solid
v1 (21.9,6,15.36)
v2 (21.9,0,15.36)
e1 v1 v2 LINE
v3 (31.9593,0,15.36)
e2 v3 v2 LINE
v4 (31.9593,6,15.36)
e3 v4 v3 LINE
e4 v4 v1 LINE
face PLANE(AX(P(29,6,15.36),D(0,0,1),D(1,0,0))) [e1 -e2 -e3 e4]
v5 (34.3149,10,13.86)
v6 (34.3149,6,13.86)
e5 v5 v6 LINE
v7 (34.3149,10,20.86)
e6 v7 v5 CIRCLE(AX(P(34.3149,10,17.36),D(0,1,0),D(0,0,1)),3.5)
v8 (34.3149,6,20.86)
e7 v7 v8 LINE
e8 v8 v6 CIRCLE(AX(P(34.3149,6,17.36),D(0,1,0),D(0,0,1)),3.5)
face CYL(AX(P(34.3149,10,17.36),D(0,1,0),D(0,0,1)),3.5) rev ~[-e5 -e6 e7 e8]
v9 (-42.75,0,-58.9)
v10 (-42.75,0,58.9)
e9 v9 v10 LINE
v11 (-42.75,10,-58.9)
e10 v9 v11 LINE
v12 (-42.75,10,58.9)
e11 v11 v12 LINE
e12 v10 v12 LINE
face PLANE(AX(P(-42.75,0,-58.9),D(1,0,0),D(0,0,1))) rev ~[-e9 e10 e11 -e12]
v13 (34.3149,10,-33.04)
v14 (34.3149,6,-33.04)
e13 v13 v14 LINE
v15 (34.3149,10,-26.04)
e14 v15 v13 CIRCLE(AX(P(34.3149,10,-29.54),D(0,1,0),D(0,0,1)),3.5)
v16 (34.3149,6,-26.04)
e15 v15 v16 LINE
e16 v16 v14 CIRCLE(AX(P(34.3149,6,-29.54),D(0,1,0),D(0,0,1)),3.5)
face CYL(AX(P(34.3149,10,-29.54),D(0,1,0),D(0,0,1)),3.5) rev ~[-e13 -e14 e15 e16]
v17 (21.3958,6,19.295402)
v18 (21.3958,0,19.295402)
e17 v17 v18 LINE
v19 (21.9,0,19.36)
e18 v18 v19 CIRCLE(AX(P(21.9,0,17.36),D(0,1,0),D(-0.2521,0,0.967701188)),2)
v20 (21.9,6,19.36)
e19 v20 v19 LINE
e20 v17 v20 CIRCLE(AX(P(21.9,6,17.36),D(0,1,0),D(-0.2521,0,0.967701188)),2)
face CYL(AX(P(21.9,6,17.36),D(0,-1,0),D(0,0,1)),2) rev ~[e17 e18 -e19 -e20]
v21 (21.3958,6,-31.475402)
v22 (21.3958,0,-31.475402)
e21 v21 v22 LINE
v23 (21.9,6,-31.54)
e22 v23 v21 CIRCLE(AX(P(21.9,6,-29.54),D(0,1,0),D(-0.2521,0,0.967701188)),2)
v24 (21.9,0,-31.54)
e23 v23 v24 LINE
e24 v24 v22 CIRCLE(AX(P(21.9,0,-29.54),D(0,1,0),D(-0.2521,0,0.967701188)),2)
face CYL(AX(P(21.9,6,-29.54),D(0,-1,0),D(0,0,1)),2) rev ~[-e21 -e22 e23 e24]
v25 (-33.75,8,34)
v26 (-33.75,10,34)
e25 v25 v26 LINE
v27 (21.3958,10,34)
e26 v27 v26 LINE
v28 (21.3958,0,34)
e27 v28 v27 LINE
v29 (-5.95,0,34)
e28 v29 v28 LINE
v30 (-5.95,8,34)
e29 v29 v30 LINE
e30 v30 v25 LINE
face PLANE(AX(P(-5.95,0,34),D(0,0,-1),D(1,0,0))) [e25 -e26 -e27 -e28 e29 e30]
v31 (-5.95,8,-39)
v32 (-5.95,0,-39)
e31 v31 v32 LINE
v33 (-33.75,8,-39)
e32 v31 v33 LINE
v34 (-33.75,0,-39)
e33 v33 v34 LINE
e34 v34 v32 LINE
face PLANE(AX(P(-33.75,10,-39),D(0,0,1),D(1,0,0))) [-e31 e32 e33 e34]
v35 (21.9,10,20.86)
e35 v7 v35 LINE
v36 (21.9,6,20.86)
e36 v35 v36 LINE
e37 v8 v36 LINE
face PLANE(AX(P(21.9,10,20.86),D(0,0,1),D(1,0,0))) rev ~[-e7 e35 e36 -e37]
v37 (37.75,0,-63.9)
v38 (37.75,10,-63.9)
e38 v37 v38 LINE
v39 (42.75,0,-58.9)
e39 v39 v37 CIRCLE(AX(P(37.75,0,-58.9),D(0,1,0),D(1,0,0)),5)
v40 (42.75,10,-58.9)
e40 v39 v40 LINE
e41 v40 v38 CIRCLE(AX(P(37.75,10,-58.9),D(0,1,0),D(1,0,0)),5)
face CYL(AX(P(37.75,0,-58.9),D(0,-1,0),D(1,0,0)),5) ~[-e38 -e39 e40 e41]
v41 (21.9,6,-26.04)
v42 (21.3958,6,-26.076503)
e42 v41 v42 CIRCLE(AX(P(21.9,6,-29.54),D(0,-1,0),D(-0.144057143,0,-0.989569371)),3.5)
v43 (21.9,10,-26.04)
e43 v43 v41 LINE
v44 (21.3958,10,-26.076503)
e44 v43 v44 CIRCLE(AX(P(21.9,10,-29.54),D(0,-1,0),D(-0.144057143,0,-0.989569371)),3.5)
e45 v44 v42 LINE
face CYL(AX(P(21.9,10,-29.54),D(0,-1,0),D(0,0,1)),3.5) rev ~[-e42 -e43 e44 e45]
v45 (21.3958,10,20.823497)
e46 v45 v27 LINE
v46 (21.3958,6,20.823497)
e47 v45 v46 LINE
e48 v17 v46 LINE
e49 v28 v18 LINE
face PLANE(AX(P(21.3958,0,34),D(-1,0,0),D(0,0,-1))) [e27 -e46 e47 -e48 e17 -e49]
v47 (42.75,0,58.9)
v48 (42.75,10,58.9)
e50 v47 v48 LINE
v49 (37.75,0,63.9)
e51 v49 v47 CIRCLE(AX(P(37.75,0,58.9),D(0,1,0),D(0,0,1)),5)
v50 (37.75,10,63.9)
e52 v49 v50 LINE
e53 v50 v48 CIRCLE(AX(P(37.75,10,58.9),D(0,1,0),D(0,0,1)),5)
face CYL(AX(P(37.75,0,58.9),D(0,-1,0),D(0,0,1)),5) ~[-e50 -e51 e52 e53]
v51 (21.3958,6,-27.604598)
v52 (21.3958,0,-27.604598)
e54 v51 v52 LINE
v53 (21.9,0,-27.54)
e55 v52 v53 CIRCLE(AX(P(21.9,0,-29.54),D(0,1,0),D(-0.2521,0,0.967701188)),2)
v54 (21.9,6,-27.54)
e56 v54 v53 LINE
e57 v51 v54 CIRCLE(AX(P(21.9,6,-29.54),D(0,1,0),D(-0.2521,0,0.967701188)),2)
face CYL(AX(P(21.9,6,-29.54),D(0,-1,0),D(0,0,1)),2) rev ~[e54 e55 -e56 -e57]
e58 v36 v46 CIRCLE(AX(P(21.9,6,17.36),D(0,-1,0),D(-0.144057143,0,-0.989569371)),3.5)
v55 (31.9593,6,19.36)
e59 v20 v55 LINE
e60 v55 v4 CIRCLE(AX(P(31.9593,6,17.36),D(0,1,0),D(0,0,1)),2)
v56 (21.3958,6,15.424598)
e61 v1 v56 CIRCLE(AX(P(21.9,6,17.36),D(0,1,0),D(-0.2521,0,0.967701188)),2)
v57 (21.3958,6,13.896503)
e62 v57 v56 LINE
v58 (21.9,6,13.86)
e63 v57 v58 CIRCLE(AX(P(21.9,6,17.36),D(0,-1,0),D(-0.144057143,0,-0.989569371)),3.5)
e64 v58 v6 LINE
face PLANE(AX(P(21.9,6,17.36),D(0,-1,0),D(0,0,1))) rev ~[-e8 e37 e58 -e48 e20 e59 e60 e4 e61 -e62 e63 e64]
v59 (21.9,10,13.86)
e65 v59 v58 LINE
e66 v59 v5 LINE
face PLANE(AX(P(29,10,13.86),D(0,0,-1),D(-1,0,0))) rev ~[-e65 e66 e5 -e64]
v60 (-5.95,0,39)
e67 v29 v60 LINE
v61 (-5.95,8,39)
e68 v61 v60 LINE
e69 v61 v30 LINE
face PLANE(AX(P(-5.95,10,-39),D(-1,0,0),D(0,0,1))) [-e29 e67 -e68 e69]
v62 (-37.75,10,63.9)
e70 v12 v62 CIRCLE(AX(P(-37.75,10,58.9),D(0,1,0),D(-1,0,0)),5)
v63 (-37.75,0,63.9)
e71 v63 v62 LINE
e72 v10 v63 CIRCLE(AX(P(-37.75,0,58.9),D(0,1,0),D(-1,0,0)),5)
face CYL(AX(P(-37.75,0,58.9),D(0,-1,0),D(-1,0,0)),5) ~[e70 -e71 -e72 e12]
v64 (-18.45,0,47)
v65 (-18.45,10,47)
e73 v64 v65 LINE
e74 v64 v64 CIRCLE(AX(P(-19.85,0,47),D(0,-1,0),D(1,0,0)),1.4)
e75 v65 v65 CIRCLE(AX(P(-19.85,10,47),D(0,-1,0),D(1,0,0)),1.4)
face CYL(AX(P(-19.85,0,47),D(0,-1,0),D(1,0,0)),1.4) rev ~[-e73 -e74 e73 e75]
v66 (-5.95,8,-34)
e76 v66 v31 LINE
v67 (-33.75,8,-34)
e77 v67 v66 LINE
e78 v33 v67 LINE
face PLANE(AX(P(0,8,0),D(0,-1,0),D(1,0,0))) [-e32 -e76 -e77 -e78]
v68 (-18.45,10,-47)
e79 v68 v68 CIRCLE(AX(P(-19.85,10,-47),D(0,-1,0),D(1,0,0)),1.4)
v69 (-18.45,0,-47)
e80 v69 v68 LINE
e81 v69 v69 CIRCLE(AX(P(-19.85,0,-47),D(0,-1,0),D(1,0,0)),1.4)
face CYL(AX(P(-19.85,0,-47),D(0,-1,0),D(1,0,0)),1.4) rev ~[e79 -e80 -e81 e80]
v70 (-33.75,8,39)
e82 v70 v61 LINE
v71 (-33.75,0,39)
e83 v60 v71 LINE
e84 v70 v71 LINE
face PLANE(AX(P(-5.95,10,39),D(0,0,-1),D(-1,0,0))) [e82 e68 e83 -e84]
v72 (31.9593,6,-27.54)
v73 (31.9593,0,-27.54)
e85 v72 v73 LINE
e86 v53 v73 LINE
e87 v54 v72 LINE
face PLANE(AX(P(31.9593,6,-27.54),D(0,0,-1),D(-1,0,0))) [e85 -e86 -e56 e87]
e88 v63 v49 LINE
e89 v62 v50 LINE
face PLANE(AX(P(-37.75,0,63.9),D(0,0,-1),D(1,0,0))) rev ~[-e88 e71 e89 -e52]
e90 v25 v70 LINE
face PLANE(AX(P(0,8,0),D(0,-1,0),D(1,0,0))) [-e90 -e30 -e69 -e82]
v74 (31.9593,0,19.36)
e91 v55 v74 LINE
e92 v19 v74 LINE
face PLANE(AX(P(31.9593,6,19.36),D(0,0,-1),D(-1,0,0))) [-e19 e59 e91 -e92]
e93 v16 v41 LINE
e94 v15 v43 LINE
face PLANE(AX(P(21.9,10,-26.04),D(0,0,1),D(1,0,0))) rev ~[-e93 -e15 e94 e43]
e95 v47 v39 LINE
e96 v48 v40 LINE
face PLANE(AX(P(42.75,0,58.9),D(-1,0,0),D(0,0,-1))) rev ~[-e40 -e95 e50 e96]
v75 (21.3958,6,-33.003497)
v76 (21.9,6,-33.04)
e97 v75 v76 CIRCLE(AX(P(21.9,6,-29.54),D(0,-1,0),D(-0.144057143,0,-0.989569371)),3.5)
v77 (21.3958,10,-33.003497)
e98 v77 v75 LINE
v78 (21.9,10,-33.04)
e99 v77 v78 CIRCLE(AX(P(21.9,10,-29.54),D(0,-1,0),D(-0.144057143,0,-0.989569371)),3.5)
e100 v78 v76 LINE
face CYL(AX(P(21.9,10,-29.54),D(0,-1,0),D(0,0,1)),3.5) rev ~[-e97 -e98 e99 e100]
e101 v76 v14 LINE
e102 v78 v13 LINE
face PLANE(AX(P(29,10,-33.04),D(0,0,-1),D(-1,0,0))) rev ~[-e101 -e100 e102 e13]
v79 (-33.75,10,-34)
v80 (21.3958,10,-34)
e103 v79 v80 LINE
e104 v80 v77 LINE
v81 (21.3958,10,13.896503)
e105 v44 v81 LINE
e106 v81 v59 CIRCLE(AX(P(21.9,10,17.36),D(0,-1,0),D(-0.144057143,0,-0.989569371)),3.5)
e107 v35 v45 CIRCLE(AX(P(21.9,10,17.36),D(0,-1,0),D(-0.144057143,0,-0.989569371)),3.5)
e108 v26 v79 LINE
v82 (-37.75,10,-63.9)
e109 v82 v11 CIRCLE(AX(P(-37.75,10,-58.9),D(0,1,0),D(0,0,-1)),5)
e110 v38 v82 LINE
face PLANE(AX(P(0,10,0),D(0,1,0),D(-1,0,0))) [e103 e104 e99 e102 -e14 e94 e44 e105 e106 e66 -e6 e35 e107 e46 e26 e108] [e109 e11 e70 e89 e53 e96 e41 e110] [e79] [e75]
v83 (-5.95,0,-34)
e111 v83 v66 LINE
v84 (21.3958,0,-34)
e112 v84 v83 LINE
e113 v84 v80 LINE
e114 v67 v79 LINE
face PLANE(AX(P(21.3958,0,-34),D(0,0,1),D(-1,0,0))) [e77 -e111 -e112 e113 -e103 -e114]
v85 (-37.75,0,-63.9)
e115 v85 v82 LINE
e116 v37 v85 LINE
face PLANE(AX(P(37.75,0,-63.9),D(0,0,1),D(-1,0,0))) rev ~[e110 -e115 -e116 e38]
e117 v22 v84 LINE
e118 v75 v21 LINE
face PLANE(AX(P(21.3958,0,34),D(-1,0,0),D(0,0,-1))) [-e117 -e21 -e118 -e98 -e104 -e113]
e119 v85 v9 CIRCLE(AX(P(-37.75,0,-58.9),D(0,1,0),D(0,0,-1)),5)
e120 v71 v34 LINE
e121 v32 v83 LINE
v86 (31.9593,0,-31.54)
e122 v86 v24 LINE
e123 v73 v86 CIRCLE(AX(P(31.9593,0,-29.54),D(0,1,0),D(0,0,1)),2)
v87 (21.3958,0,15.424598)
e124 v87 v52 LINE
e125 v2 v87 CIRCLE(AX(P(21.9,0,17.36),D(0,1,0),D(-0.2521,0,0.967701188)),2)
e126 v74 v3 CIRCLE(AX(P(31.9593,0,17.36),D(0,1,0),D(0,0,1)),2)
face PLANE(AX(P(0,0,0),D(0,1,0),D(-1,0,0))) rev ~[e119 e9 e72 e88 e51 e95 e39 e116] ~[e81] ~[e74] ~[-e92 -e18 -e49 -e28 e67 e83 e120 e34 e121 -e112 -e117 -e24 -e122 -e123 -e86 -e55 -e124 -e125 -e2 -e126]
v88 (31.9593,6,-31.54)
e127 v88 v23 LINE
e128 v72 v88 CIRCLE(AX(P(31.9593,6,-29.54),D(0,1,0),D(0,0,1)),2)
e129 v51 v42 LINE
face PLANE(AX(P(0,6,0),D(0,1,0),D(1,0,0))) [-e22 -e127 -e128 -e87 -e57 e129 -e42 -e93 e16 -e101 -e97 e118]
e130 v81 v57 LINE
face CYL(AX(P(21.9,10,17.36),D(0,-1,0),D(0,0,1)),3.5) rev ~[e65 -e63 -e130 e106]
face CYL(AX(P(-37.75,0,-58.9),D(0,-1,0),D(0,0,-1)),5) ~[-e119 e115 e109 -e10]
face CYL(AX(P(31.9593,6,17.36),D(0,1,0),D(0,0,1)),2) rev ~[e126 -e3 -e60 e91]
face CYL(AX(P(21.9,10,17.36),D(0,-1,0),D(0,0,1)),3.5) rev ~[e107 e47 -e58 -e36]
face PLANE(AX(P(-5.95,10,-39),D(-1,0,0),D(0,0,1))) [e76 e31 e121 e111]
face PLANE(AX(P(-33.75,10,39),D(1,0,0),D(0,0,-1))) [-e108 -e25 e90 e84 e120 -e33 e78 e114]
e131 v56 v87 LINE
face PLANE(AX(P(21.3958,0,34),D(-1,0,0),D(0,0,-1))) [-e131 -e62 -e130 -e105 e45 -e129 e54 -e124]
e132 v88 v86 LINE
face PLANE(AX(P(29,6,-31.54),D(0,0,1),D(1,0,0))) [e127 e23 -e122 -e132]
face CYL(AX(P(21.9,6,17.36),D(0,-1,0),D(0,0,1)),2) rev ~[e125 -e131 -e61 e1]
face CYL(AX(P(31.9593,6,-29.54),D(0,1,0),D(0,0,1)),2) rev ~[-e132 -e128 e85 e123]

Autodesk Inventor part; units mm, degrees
ref_plane "YZ Plane" through (0, 0, 0) normal (1, 0, 0) x (0, 1, 0)
ref_plane "XZ Plane" through (0, 0, 0) normal (0, 1, 0) x (-1, 0, 0)
sketch "Skizze1" plane through (0, 0, 0) normal (0, 1, 0) x (-1, 0, 0)
  line L0 (-37.75, -63.9) -> (37.75, -63.9)
  line L1 (42.75, -58.9) -> (42.75, 58.9)
  line L2 (37.75, 63.9) -> (-37.75, 63.9)
  line L3 (-42.75, 58.9) -> (-42.75, -58.9)
  line L4 (-42.75, -63.9) -> (42.75, 63.9) construction
  line L5 (42.75, -63.9) -> (-42.75, 63.9) construction
  arc A0 (42.75, 58.9) -> (37.75, 63.9) centre (37.75, 58.9) ccw
  arc A1 (-37.75, 63.9) -> (-42.75, 58.9) centre (-37.75, 58.9) ccw
  arc A2 (-42.75, -58.9) -> (-37.75, -63.9) centre (-37.75, -58.9) ccw
  arc A3 (37.75, -63.9) -> (42.75, -58.9) centre (37.75, -58.9) ccw
  point P0 (0, 0)
  dimension "d0" = 85.5
  dimension "d1" = 127.8
  dimension "d2" = 5
extrude "Extrusion1" add sketch "Skizze1" along normal blind 10
ref_plane "Arbeitsebene1" through (37.75, 0, 0) normal (0, 0, -1) x (-1, 0, 0)
ref_plane "Arbeitsebene2" through (0, 0, 58.9) normal (1, 0, 0) x (0, 0, -1)
sketch "Skizze2" plane through (0, 10, 0) normal (0, 1, 0) x (1, 0, 0)
  line L0 (-6.95, 38) -> (-32.75, 38) projected
  line L1 (-32.75, -38) -> (-6.95, -38) projected
  line L2 (-6.95, -38) -> (-6.95, -2.5) projected
  line L3 (-32.75, 38) -> (-32.75, -38) projected
  line L4 (-32.75, -38) -> (-6.95, -38)
  line L5 (-6.95, -38) -> (-6.95, 38)
  line L6 (-6.95, 38) -> (-32.75, 38)
  line L7 (-32.75, 38) -> (-32.75, -38)
  line L8 (-5.95, 39) -> (-5.95, -39)
  line L9 (-5.95, -39) -> (-33.75, -39)
  line L10 (-33.75, -39) -> (-33.75, 39)
  line L11 (-33.75, 39) -> (-5.95, 39)
  point P0 (0, 0)
  dimension "d5" = 1
extrude "Extrusion2" cut sketch "Skizze2" against normal through all contours L5 L2 L1 L3 L0 | L8 L9 L10 L11
ref_plane "Arbeitsebene3" through (-32.75, 5, -38) normal (0, 1, 0) x (0, 0, 1)
sketch "Skizze3" plane through (0, 10, 0) normal (0, 1, 0) x (1, 0, 0)
  line L0 (-5.95, -39) -> (-33.75, -39) projected
  line L1 (-33.75, -39) -> (-33.75, 39) projected
  line L2 (-33.75, 39) -> (-5.95, 39) projected
  line L3 (-5.95, 39) -> (-5.95, -39) projected
  arc A0 (-37.75, 63.9) -> (-42.75, 58.9) centre (-37.75, 58.9) ccw projected
  line L4 (-42.75, 58.9) -> (-42.75, -58.9) projected
  arc A1 (-42.75, -58.9) -> (-37.75, -63.9) centre (-37.75, -58.9) ccw projected
  line L5 (-37.75, -63.9) -> (37.75, -63.9) projected
  arc A2 (37.75, -63.9) -> (42.75, -58.9) centre (37.75, -58.9) ccw projected
  line L6 (42.75, -58.9) -> (42.75, 58.9) projected
  arc A3 (42.75, 58.9) -> (37.75, 63.9) centre (37.75, 58.9) ccw projected
  line L7 (37.75, 63.9) -> (-37.75, 63.9) projected
  line L8 (-33.75, -39) -> (-33.75, 39) projected
  line L9 (-5.95, 39) -> (-5.95, -39) projected
  line L10 (-33.75, -39) -> (-5.95, -39)
  line L11 (-5.95, -39) -> (-5.95, -34)
  line L12 (-5.95, -34) -> (-33.75, -34)
  line L13 (-33.75, -34) -> (-33.75, -39)
  line L14 (-33.75, 39) -> (-5.95, 39)
  line L15 (-5.95, 39) -> (-5.95, 34)
  line L16 (-5.95, 34) -> (-33.75, 34)
  line L17 (-33.75, 34) -> (-33.75, 39)
  point P0 (0, 0)
  point P1 (-5.95, 34)
  point P2 (-5.95, -34)
  dimension "d8" = 27.8
  dimension "d9" = 5
  dimension "d10" = 5
extrude "Extrusion3" add sketch "Skizze3" against normal blind 1 contours L0 L1 L12 L3 | L16 L1 L2 L3
sketch "Skizze4" plane through (0, 0, 0) normal (0, -1, 0) x (1, 0, 0)
  line L0 (-33.75, 39) -> (-5.95, 39) projected
  line L1 (-5.95, 39) -> (-5.95, -39) projected
  line L2 (-5.95, -39) -> (-33.75, -39) projected
  line L3 (-33.75, -39) -> (-33.75, 39) projected
  arc A0 (-42.75, -58.9) -> (-37.75, -63.9) centre (-37.75, -58.9) ccw projected
  line L4 (37.75, -63.9) -> (-37.75, -63.9) projected
  arc A1 (37.75, -63.9) -> (42.75, -58.9) centre (37.75, -58.9) ccw projected
  line L5 (42.75, 58.9) -> (42.75, -58.9) projected
  arc A2 (42.75, 58.9) -> (37.75, 63.9) centre (37.75, 58.9) ccw projected
  line L6 (-37.75, 63.9) -> (37.75, 63.9) projected
  arc A3 (-37.75, 63.9) -> (-42.75, 58.9) centre (-37.75, 58.9) ccw projected
  line L7 (-42.75, -58.9) -> (-42.75, 58.9) projected
  line L8 (-5.95, -34) -> (-5.95, 34) projected
  line L9 (-5.95, 34) -> (21.3958, 34)
  line L10 (21.3958, 34) -> (21.3958, -34)
  line L11 (21.3958, -34) -> (-5.95, -34)
  line L12 (-5.95, -34) -> (-5.95, 34)
  line L13 (3.55, 7.5) -> (3.55, -8) projected
  point P0 (0, 0)
  point P1 (-5.95, -34)
  dimension "d14" = 5
  dimension "d15" = 5
extrude "Extrusion4" cut sketch "Skizze4" against normal through all contours L9 L10 L11 L1
sketch "Skizze5" plane through (0, 0, 0) normal (0, -1, 0) x (1, 0, 0)
  arc A0 (-42.75, -58.9) -> (-37.75, -63.9) centre (-37.75, -58.9) ccw projected
  line L0 (37.75, -63.9) -> (-37.75, -63.9) projected
  arc A1 (37.75, -63.9) -> (42.75, -58.9) centre (37.75, -58.9) ccw projected
  line L1 (42.75, 58.9) -> (42.75, -58.9) projected
  arc A2 (42.75, 58.9) -> (37.75, 63.9) centre (37.75, 58.9) ccw projected
  line L2 (-37.75, 63.9) -> (37.75, 63.9) projected
  arc A3 (-37.75, 63.9) -> (-42.75, 58.9) centre (-37.75, 58.9) ccw projected
  line L3 (-42.75, -58.9) -> (-42.75, 58.9) projected
  line L4 (-5.95, 34) -> (21.3958, 34) projected
  line L5 (21.3958, 34) -> (21.3958, -34) projected
  line L6 (21.3958, -34) -> (-5.95, -34) projected
  line L7 (-5.95, -34) -> (-5.95, -39) projected
  line L8 (-5.95, -39) -> (-33.75, -39) projected
  line L9 (-33.75, -39) -> (-33.75, 39) projected
  line L10 (-33.75, 39) -> (-5.95, 39) projected
  line L11 (-5.95, 39) -> (-5.95, 34) projected
  circle A4 centre (-19.85, -47) radius 1.4
  circle A5 centre (-19.85, 47) radius 1.4
  point P0 (0, 0)
  dimension "d18" = 2.8
  dimension "d19" = 2.8
  dimension "d20" = 8
  dimension "d21" = 8
extrude "Extrusion5" cut sketch "Skizze5" against normal through all contours A4 | A5
sketch "Skizze6" plane through (0, 10, 0) normal (0, 1, 0) x (1, 0, 0)
  circle A0 centre (25.45, -17.36) radius 1.57 projected
  circle A1 centre (32.55, -17.36) radius 1.57 projected
  circle A2 centre (32.55, 29.54) radius 1.57 projected
  circle A3 centre (25.45, 29.54) radius 1.57 projected
  line L0 (21.45, 51.1) -> (36.55, 51.1) projected
  line L1 (36.55, 42.04) -> (36.55, 51.1) projected
  line L2 (34.55, 42.04) -> (36.55, 42.04) projected
  line L3 (34.55, 34.04) -> (34.55, 42.04) projected
  line L4 (36.55, 34.04) -> (34.55, 34.04) projected
  line L5 (36.55, -21.86) -> (36.55, 34.04) projected
  line L6 (36.55, -21.86) -> (34.55, -21.86) projected
  line L7 (34.55, -21.86) -> (34.55, -29.86) projected
  line L8 (34.55, -29.86) -> (36.55, -29.86) projected
  line L9 (36.55, -29.86) -> (36.55, -38.92) projected
  line L10 (36.55, -38.92) -> (21.45, -38.92) projected
  line L11 (21.45, -38.92) -> (21.45, -29.86) projected
  line L12 (21.45, -29.86) -> (23.45, -29.86) projected
  line L13 (23.45, -29.86) -> (23.45, -21.86) projected
  line L14 (23.45, -21.86) -> (21.45, -21.86) projected
  line L15 (21.45, -21.86) -> (21.45, 34.04) projected
  line L16 (23.45, 34.04) -> (21.45, 34.04) projected
  line L17 (23.45, 42.04) -> (23.45, 34.04) projected
  line L18 (21.45, 42.04) -> (23.45, 42.04) projected
  line L19 (21.45, 51.1) -> (21.45, 42.04) projected
  circle A4 centre (25.45, 29.54) radius 1.57
  circle A5 centre (32.55, 29.54) radius 1.57
  circle A6 centre (25.45, -17.36) radius 1.57
  circle A7 centre (32.55, -17.36) radius 1.57
  circle A8 centre (21.9, 29.54) radius 1.57
  circle A9 centre (29, 29.54) radius 1.57
  circle A10 centre (21.9, -17.36) radius 1.57
  circle A11 centre (29, -17.36) radius 1.57
  point P0 (0, 0)
hole "Bohrung1" at (29, 10, 17.36) at (29, 10, -29.54) at (21.9, 10, -29.54) at (21.9, 10, 17.36) direction (0, -1, 0) diameter 4 end through all counterbore diameter 7 counterbore depth 4
sketch "Skizze7" plane through (21.9, 6, -29.54) normal (0, 1, 0) x (1, 0, 0)
  circle A0 centre (7.1, 0) radius 2 projected
  arc A1 (-0.5042, -1.9354) -> (-0.5042, 1.9354) centre (0, 0) ccw projected
  line L0 (9.2, -49.54) -> (5, -49.54) projected
  circle A2 centre (7.1, -46.9) radius 2 projected
  arc A3 (-0.5042, -48.8354) -> (-0.5042, -44.9646) centre (0, -46.9) ccw projected
  arc A4 (-0.5042, -50.3635) -> (-0.5042, -43.4365) centre (0, -46.9) ccw projected
  line L1 (0, -46.9) -> (10.0593, -46.9) construction
  line L2 (0, -44.9) -> (10.0593, -44.9)
  line L3 (10.0593, -48.9) -> (0, -48.9)
  arc A5 (0, -44.9) -> (0, -48.9) centre (0, -46.9) ccw
  arc A6 (10.0593, -48.9) -> (10.0593, -44.9) centre (10.0593, -46.9) ccw
  arc A7 (-0.5042, -1.9354) -> (-0.5042, 1.9354) centre (0, 0) ccw projected
  line L4 (0, 0) -> (10.0593, 0) construction
  line L5 (0, 2) -> (10.0593, 2)
  line L6 (10.0593, -2) -> (0, -2)
  arc A8 (0, 2) -> (0, -2) centre (0, 0) ccw
  arc A9 (10.0593, -2) -> (10.0593, 2) centre (10.0593, 0) ccw
  point P0 (-21.9, -29.54)
  point P1 (5.0296, -46.9)
  point P2 (5.0296, 0)
  point P3 (0, -48.9)
  point P4 (0, -2)
  point P5 (0, 2)
extrude "Extrusion6" cut sketch "Skizze7" against normal through all
sketch "Skizze8" plane through (0, 10, 0) normal (0, 1, 0) x (1, 0, 0)
  arc A0 (21.3958, 26.0765) -> (21.3958, 33.0035) centre (21.9, 29.54) ccw projected
  line L0 (21.3958, 26.0765) -> (21.3958, -13.8965) projected
  arc A1 (21.3958, -20.8235) -> (21.3958, -13.8965) centre (21.9, -17.36) ccw projected
  line L1 (21.3958, -20.8235) -> (21.3958, -34) projected
  line L2 (21.3958, -34) -> (-33.75, -34) projected
  line L3 (-33.75, -34) -> (-33.75, 34) projected
  line L4 (-33.75, 34) -> (21.3958, 34) projected
  line L5 (21.3958, 34) -> (21.3958, 33.0035) projected
  circle A2 centre (29, -17.36) radius 3.5 projected
  circle A3 centre (29, 29.54) radius 3.5 projected
  circle A4 centre (-19.85, -47) radius 1.4 projected
  circle A5 centre (-19.85, 47) radius 1.4 projected
  arc A6 (-37.75, 63.9) -> (-42.75, 58.9) centre (-37.75, 58.9) ccw projected
  line L6 (-42.75, 58.9) -> (-42.75, -58.9) projected
  arc A7 (-42.75, -58.9) -> (-37.75, -63.9) centre (-37.75, -58.9) ccw projected
  line L7 (-37.75, -63.9) -> (37.75, -63.9) projected
  arc A8 (37.75, -63.9) -> (42.75, -58.9) centre (37.75, -58.9) ccw projected
  line L8 (42.75, -58.9) -> (42.75, 58.9) projected
  arc A9 (42.75, 58.9) -> (37.75, 63.9) centre (37.75, 58.9) ccw projected
  line L9 (37.75, 63.9) -> (-37.75, 63.9) projected
  arc A10 (21.3958, 26.0765) -> (21.3958, 33.0035) centre (21.9, 29.54) ccw projected
  line L10 (21.9, 29.54) -> (34.3149, 29.54) construction
  line L11 (21.9, 26.04) -> (34.3149, 26.04)
  line L12 (34.3149, 33.04) -> (21.9, 33.04)
  arc A11 (21.9, 33.04) -> (21.9, 26.04) centre (21.9, 29.54) ccw
  arc A12 (34.3149, 26.04) -> (34.3149, 33.04) centre (34.3149, 29.54) ccw
  line L13 (21.9, -17.36) -> (34.3149, -17.36) construction
  line L14 (21.9, -20.86) -> (34.3149, -20.86)
  line L15 (34.3149, -13.86) -> (21.9, -13.86)
  arc A13 (21.9, -13.86) -> (21.9, -20.86) centre (21.9, -17.36) ccw
  arc A14 (34.3149, -20.86) -> (34.3149, -13.86) centre (34.3149, -17.36) ccw
  point P0 (0, 0)
  point P1 (28.1075, 29.54)
  point P2 (28.1075, -17.36)
  point P3 (21.3958, -13.8965)
  point P4 (21.3958, 33.0035)
extrude "Extrusion7" cut sketch "Skizze8" against normal up to surface (4 mm away) contours A11 A0 | A0 L12 A3 L11 | A1 A13 | A3 | A3 L12 A12 L11 | L15 A2 L14 A1 | L15 A14 L14 A2 | A2
sketch "Skizze9" plane through (0, 9, 0) normal (0, -1, 0) x (1, 0, 0)
  circle A0 centre (-19.85, 47) radius 1.4 projected
  circle A1 centre (-19.85, -47) radius 1.4 projected
  arc A2 (-42.75, -58.9) -> (-37.75, -63.9) centre (-37.75, -58.9) ccw projected
  line L0 (37.75, -63.9) -> (-37.75, -63.9) projected
  arc A3 (37.75, -63.9) -> (42.75, -58.9) centre (37.75, -58.9) ccw projected
  line L1 (42.75, 58.9) -> (42.75, -58.9) projected
  arc A4 (42.75, 58.9) -> (37.75, 63.9) centre (37.75, 58.9) ccw projected
  line L2 (-37.75, 63.9) -> (37.75, 63.9) projected
  arc A5 (-37.75, 63.9) -> (-42.75, 58.9) centre (-37.75, 58.9) ccw projected
  line L3 (-42.75, -58.9) -> (-42.75, 58.9) projected
  line L4 (21.9, 19.36) -> (31.9593, 19.36) projected
  arc A6 (31.9593, 15.36) -> (31.9593, 19.36) centre (31.9593, 17.36) ccw projected
  line L5 (31.9593, 15.36) -> (21.9, 15.36) projected
  arc A7 (21.3958, 15.4246) -> (21.9, 15.36) centre (21.9, 17.36) ccw projected
  line L6 (21.3958, 15.4246) -> (21.3958, -27.6046) projected
  arc A8 (21.9, -27.54) -> (21.3958, -27.6046) centre (21.9, -29.54) ccw projected
  line L7 (21.9, -27.54) -> (31.9593, -27.54) projected
  arc A9 (31.9593, -31.54) -> (31.9593, -27.54) centre (31.9593, -29.54) ccw projected
  line L8 (31.9593, -31.54) -> (21.9, -31.54) projected
  arc A10 (21.3958, -31.4754) -> (21.9, -31.54) centre (21.9, -29.54) ccw projected
  line L9 (21.3958, -31.4754) -> (21.3958, -34) projected
  line L10 (21.3958, -34) -> (-5.95, -34) projected
  line L11 (-5.95, -34) -> (-5.95, -39) projected
  line L12 (-5.95, -39) -> (-33.75, -39) projected
  line L13 (-33.75, -39) -> (-33.75, 39) projected
  line L14 (-33.75, 39) -> (-5.95, 39) projected
  line L15 (-5.95, 39) -> (-5.95, 34) projected
  line L16 (-5.95, 34) -> (21.3958, 34) projected
  line L17 (21.3958, 34) -> (21.3958, 19.2954) projected
  arc A11 (21.9, 19.36) -> (21.3958, 19.2954) centre (21.9, 17.36) ccw projected
  line L18 (-33.75, 39) -> (-5.95, 39) projected
  line L19 (-33.75, 39) -> (-5.95, 39)
  line L20 (-5.95, 39) -> (-5.95, 34)
  line L21 (-5.95, 34) -> (-33.75, 34)
  line L22 (-33.75, 34) -> (-33.75, 39)
  line L23 (-5.95, -39) -> (-33.75, -39) projected
  line L24 (-33.75, -39) -> (-33.75, -34) projected
  line L25 (-5.95, -39) -> (-33.75, -39)
  line L26 (-33.75, -39) -> (-33.75, -34)
  line L27 (-33.75, -34) -> (-5.95, -34)
  line L28 (-5.95, -34) -> (-5.95, -39)
  point P0 (0, 0)
extrude "Extrusion8" add sketch "Skizze9" along normal blind 1 contours L21 L13 L14 L15 | L27 L11 L12 L13
properties part number "TIRFImager_base_v0"
